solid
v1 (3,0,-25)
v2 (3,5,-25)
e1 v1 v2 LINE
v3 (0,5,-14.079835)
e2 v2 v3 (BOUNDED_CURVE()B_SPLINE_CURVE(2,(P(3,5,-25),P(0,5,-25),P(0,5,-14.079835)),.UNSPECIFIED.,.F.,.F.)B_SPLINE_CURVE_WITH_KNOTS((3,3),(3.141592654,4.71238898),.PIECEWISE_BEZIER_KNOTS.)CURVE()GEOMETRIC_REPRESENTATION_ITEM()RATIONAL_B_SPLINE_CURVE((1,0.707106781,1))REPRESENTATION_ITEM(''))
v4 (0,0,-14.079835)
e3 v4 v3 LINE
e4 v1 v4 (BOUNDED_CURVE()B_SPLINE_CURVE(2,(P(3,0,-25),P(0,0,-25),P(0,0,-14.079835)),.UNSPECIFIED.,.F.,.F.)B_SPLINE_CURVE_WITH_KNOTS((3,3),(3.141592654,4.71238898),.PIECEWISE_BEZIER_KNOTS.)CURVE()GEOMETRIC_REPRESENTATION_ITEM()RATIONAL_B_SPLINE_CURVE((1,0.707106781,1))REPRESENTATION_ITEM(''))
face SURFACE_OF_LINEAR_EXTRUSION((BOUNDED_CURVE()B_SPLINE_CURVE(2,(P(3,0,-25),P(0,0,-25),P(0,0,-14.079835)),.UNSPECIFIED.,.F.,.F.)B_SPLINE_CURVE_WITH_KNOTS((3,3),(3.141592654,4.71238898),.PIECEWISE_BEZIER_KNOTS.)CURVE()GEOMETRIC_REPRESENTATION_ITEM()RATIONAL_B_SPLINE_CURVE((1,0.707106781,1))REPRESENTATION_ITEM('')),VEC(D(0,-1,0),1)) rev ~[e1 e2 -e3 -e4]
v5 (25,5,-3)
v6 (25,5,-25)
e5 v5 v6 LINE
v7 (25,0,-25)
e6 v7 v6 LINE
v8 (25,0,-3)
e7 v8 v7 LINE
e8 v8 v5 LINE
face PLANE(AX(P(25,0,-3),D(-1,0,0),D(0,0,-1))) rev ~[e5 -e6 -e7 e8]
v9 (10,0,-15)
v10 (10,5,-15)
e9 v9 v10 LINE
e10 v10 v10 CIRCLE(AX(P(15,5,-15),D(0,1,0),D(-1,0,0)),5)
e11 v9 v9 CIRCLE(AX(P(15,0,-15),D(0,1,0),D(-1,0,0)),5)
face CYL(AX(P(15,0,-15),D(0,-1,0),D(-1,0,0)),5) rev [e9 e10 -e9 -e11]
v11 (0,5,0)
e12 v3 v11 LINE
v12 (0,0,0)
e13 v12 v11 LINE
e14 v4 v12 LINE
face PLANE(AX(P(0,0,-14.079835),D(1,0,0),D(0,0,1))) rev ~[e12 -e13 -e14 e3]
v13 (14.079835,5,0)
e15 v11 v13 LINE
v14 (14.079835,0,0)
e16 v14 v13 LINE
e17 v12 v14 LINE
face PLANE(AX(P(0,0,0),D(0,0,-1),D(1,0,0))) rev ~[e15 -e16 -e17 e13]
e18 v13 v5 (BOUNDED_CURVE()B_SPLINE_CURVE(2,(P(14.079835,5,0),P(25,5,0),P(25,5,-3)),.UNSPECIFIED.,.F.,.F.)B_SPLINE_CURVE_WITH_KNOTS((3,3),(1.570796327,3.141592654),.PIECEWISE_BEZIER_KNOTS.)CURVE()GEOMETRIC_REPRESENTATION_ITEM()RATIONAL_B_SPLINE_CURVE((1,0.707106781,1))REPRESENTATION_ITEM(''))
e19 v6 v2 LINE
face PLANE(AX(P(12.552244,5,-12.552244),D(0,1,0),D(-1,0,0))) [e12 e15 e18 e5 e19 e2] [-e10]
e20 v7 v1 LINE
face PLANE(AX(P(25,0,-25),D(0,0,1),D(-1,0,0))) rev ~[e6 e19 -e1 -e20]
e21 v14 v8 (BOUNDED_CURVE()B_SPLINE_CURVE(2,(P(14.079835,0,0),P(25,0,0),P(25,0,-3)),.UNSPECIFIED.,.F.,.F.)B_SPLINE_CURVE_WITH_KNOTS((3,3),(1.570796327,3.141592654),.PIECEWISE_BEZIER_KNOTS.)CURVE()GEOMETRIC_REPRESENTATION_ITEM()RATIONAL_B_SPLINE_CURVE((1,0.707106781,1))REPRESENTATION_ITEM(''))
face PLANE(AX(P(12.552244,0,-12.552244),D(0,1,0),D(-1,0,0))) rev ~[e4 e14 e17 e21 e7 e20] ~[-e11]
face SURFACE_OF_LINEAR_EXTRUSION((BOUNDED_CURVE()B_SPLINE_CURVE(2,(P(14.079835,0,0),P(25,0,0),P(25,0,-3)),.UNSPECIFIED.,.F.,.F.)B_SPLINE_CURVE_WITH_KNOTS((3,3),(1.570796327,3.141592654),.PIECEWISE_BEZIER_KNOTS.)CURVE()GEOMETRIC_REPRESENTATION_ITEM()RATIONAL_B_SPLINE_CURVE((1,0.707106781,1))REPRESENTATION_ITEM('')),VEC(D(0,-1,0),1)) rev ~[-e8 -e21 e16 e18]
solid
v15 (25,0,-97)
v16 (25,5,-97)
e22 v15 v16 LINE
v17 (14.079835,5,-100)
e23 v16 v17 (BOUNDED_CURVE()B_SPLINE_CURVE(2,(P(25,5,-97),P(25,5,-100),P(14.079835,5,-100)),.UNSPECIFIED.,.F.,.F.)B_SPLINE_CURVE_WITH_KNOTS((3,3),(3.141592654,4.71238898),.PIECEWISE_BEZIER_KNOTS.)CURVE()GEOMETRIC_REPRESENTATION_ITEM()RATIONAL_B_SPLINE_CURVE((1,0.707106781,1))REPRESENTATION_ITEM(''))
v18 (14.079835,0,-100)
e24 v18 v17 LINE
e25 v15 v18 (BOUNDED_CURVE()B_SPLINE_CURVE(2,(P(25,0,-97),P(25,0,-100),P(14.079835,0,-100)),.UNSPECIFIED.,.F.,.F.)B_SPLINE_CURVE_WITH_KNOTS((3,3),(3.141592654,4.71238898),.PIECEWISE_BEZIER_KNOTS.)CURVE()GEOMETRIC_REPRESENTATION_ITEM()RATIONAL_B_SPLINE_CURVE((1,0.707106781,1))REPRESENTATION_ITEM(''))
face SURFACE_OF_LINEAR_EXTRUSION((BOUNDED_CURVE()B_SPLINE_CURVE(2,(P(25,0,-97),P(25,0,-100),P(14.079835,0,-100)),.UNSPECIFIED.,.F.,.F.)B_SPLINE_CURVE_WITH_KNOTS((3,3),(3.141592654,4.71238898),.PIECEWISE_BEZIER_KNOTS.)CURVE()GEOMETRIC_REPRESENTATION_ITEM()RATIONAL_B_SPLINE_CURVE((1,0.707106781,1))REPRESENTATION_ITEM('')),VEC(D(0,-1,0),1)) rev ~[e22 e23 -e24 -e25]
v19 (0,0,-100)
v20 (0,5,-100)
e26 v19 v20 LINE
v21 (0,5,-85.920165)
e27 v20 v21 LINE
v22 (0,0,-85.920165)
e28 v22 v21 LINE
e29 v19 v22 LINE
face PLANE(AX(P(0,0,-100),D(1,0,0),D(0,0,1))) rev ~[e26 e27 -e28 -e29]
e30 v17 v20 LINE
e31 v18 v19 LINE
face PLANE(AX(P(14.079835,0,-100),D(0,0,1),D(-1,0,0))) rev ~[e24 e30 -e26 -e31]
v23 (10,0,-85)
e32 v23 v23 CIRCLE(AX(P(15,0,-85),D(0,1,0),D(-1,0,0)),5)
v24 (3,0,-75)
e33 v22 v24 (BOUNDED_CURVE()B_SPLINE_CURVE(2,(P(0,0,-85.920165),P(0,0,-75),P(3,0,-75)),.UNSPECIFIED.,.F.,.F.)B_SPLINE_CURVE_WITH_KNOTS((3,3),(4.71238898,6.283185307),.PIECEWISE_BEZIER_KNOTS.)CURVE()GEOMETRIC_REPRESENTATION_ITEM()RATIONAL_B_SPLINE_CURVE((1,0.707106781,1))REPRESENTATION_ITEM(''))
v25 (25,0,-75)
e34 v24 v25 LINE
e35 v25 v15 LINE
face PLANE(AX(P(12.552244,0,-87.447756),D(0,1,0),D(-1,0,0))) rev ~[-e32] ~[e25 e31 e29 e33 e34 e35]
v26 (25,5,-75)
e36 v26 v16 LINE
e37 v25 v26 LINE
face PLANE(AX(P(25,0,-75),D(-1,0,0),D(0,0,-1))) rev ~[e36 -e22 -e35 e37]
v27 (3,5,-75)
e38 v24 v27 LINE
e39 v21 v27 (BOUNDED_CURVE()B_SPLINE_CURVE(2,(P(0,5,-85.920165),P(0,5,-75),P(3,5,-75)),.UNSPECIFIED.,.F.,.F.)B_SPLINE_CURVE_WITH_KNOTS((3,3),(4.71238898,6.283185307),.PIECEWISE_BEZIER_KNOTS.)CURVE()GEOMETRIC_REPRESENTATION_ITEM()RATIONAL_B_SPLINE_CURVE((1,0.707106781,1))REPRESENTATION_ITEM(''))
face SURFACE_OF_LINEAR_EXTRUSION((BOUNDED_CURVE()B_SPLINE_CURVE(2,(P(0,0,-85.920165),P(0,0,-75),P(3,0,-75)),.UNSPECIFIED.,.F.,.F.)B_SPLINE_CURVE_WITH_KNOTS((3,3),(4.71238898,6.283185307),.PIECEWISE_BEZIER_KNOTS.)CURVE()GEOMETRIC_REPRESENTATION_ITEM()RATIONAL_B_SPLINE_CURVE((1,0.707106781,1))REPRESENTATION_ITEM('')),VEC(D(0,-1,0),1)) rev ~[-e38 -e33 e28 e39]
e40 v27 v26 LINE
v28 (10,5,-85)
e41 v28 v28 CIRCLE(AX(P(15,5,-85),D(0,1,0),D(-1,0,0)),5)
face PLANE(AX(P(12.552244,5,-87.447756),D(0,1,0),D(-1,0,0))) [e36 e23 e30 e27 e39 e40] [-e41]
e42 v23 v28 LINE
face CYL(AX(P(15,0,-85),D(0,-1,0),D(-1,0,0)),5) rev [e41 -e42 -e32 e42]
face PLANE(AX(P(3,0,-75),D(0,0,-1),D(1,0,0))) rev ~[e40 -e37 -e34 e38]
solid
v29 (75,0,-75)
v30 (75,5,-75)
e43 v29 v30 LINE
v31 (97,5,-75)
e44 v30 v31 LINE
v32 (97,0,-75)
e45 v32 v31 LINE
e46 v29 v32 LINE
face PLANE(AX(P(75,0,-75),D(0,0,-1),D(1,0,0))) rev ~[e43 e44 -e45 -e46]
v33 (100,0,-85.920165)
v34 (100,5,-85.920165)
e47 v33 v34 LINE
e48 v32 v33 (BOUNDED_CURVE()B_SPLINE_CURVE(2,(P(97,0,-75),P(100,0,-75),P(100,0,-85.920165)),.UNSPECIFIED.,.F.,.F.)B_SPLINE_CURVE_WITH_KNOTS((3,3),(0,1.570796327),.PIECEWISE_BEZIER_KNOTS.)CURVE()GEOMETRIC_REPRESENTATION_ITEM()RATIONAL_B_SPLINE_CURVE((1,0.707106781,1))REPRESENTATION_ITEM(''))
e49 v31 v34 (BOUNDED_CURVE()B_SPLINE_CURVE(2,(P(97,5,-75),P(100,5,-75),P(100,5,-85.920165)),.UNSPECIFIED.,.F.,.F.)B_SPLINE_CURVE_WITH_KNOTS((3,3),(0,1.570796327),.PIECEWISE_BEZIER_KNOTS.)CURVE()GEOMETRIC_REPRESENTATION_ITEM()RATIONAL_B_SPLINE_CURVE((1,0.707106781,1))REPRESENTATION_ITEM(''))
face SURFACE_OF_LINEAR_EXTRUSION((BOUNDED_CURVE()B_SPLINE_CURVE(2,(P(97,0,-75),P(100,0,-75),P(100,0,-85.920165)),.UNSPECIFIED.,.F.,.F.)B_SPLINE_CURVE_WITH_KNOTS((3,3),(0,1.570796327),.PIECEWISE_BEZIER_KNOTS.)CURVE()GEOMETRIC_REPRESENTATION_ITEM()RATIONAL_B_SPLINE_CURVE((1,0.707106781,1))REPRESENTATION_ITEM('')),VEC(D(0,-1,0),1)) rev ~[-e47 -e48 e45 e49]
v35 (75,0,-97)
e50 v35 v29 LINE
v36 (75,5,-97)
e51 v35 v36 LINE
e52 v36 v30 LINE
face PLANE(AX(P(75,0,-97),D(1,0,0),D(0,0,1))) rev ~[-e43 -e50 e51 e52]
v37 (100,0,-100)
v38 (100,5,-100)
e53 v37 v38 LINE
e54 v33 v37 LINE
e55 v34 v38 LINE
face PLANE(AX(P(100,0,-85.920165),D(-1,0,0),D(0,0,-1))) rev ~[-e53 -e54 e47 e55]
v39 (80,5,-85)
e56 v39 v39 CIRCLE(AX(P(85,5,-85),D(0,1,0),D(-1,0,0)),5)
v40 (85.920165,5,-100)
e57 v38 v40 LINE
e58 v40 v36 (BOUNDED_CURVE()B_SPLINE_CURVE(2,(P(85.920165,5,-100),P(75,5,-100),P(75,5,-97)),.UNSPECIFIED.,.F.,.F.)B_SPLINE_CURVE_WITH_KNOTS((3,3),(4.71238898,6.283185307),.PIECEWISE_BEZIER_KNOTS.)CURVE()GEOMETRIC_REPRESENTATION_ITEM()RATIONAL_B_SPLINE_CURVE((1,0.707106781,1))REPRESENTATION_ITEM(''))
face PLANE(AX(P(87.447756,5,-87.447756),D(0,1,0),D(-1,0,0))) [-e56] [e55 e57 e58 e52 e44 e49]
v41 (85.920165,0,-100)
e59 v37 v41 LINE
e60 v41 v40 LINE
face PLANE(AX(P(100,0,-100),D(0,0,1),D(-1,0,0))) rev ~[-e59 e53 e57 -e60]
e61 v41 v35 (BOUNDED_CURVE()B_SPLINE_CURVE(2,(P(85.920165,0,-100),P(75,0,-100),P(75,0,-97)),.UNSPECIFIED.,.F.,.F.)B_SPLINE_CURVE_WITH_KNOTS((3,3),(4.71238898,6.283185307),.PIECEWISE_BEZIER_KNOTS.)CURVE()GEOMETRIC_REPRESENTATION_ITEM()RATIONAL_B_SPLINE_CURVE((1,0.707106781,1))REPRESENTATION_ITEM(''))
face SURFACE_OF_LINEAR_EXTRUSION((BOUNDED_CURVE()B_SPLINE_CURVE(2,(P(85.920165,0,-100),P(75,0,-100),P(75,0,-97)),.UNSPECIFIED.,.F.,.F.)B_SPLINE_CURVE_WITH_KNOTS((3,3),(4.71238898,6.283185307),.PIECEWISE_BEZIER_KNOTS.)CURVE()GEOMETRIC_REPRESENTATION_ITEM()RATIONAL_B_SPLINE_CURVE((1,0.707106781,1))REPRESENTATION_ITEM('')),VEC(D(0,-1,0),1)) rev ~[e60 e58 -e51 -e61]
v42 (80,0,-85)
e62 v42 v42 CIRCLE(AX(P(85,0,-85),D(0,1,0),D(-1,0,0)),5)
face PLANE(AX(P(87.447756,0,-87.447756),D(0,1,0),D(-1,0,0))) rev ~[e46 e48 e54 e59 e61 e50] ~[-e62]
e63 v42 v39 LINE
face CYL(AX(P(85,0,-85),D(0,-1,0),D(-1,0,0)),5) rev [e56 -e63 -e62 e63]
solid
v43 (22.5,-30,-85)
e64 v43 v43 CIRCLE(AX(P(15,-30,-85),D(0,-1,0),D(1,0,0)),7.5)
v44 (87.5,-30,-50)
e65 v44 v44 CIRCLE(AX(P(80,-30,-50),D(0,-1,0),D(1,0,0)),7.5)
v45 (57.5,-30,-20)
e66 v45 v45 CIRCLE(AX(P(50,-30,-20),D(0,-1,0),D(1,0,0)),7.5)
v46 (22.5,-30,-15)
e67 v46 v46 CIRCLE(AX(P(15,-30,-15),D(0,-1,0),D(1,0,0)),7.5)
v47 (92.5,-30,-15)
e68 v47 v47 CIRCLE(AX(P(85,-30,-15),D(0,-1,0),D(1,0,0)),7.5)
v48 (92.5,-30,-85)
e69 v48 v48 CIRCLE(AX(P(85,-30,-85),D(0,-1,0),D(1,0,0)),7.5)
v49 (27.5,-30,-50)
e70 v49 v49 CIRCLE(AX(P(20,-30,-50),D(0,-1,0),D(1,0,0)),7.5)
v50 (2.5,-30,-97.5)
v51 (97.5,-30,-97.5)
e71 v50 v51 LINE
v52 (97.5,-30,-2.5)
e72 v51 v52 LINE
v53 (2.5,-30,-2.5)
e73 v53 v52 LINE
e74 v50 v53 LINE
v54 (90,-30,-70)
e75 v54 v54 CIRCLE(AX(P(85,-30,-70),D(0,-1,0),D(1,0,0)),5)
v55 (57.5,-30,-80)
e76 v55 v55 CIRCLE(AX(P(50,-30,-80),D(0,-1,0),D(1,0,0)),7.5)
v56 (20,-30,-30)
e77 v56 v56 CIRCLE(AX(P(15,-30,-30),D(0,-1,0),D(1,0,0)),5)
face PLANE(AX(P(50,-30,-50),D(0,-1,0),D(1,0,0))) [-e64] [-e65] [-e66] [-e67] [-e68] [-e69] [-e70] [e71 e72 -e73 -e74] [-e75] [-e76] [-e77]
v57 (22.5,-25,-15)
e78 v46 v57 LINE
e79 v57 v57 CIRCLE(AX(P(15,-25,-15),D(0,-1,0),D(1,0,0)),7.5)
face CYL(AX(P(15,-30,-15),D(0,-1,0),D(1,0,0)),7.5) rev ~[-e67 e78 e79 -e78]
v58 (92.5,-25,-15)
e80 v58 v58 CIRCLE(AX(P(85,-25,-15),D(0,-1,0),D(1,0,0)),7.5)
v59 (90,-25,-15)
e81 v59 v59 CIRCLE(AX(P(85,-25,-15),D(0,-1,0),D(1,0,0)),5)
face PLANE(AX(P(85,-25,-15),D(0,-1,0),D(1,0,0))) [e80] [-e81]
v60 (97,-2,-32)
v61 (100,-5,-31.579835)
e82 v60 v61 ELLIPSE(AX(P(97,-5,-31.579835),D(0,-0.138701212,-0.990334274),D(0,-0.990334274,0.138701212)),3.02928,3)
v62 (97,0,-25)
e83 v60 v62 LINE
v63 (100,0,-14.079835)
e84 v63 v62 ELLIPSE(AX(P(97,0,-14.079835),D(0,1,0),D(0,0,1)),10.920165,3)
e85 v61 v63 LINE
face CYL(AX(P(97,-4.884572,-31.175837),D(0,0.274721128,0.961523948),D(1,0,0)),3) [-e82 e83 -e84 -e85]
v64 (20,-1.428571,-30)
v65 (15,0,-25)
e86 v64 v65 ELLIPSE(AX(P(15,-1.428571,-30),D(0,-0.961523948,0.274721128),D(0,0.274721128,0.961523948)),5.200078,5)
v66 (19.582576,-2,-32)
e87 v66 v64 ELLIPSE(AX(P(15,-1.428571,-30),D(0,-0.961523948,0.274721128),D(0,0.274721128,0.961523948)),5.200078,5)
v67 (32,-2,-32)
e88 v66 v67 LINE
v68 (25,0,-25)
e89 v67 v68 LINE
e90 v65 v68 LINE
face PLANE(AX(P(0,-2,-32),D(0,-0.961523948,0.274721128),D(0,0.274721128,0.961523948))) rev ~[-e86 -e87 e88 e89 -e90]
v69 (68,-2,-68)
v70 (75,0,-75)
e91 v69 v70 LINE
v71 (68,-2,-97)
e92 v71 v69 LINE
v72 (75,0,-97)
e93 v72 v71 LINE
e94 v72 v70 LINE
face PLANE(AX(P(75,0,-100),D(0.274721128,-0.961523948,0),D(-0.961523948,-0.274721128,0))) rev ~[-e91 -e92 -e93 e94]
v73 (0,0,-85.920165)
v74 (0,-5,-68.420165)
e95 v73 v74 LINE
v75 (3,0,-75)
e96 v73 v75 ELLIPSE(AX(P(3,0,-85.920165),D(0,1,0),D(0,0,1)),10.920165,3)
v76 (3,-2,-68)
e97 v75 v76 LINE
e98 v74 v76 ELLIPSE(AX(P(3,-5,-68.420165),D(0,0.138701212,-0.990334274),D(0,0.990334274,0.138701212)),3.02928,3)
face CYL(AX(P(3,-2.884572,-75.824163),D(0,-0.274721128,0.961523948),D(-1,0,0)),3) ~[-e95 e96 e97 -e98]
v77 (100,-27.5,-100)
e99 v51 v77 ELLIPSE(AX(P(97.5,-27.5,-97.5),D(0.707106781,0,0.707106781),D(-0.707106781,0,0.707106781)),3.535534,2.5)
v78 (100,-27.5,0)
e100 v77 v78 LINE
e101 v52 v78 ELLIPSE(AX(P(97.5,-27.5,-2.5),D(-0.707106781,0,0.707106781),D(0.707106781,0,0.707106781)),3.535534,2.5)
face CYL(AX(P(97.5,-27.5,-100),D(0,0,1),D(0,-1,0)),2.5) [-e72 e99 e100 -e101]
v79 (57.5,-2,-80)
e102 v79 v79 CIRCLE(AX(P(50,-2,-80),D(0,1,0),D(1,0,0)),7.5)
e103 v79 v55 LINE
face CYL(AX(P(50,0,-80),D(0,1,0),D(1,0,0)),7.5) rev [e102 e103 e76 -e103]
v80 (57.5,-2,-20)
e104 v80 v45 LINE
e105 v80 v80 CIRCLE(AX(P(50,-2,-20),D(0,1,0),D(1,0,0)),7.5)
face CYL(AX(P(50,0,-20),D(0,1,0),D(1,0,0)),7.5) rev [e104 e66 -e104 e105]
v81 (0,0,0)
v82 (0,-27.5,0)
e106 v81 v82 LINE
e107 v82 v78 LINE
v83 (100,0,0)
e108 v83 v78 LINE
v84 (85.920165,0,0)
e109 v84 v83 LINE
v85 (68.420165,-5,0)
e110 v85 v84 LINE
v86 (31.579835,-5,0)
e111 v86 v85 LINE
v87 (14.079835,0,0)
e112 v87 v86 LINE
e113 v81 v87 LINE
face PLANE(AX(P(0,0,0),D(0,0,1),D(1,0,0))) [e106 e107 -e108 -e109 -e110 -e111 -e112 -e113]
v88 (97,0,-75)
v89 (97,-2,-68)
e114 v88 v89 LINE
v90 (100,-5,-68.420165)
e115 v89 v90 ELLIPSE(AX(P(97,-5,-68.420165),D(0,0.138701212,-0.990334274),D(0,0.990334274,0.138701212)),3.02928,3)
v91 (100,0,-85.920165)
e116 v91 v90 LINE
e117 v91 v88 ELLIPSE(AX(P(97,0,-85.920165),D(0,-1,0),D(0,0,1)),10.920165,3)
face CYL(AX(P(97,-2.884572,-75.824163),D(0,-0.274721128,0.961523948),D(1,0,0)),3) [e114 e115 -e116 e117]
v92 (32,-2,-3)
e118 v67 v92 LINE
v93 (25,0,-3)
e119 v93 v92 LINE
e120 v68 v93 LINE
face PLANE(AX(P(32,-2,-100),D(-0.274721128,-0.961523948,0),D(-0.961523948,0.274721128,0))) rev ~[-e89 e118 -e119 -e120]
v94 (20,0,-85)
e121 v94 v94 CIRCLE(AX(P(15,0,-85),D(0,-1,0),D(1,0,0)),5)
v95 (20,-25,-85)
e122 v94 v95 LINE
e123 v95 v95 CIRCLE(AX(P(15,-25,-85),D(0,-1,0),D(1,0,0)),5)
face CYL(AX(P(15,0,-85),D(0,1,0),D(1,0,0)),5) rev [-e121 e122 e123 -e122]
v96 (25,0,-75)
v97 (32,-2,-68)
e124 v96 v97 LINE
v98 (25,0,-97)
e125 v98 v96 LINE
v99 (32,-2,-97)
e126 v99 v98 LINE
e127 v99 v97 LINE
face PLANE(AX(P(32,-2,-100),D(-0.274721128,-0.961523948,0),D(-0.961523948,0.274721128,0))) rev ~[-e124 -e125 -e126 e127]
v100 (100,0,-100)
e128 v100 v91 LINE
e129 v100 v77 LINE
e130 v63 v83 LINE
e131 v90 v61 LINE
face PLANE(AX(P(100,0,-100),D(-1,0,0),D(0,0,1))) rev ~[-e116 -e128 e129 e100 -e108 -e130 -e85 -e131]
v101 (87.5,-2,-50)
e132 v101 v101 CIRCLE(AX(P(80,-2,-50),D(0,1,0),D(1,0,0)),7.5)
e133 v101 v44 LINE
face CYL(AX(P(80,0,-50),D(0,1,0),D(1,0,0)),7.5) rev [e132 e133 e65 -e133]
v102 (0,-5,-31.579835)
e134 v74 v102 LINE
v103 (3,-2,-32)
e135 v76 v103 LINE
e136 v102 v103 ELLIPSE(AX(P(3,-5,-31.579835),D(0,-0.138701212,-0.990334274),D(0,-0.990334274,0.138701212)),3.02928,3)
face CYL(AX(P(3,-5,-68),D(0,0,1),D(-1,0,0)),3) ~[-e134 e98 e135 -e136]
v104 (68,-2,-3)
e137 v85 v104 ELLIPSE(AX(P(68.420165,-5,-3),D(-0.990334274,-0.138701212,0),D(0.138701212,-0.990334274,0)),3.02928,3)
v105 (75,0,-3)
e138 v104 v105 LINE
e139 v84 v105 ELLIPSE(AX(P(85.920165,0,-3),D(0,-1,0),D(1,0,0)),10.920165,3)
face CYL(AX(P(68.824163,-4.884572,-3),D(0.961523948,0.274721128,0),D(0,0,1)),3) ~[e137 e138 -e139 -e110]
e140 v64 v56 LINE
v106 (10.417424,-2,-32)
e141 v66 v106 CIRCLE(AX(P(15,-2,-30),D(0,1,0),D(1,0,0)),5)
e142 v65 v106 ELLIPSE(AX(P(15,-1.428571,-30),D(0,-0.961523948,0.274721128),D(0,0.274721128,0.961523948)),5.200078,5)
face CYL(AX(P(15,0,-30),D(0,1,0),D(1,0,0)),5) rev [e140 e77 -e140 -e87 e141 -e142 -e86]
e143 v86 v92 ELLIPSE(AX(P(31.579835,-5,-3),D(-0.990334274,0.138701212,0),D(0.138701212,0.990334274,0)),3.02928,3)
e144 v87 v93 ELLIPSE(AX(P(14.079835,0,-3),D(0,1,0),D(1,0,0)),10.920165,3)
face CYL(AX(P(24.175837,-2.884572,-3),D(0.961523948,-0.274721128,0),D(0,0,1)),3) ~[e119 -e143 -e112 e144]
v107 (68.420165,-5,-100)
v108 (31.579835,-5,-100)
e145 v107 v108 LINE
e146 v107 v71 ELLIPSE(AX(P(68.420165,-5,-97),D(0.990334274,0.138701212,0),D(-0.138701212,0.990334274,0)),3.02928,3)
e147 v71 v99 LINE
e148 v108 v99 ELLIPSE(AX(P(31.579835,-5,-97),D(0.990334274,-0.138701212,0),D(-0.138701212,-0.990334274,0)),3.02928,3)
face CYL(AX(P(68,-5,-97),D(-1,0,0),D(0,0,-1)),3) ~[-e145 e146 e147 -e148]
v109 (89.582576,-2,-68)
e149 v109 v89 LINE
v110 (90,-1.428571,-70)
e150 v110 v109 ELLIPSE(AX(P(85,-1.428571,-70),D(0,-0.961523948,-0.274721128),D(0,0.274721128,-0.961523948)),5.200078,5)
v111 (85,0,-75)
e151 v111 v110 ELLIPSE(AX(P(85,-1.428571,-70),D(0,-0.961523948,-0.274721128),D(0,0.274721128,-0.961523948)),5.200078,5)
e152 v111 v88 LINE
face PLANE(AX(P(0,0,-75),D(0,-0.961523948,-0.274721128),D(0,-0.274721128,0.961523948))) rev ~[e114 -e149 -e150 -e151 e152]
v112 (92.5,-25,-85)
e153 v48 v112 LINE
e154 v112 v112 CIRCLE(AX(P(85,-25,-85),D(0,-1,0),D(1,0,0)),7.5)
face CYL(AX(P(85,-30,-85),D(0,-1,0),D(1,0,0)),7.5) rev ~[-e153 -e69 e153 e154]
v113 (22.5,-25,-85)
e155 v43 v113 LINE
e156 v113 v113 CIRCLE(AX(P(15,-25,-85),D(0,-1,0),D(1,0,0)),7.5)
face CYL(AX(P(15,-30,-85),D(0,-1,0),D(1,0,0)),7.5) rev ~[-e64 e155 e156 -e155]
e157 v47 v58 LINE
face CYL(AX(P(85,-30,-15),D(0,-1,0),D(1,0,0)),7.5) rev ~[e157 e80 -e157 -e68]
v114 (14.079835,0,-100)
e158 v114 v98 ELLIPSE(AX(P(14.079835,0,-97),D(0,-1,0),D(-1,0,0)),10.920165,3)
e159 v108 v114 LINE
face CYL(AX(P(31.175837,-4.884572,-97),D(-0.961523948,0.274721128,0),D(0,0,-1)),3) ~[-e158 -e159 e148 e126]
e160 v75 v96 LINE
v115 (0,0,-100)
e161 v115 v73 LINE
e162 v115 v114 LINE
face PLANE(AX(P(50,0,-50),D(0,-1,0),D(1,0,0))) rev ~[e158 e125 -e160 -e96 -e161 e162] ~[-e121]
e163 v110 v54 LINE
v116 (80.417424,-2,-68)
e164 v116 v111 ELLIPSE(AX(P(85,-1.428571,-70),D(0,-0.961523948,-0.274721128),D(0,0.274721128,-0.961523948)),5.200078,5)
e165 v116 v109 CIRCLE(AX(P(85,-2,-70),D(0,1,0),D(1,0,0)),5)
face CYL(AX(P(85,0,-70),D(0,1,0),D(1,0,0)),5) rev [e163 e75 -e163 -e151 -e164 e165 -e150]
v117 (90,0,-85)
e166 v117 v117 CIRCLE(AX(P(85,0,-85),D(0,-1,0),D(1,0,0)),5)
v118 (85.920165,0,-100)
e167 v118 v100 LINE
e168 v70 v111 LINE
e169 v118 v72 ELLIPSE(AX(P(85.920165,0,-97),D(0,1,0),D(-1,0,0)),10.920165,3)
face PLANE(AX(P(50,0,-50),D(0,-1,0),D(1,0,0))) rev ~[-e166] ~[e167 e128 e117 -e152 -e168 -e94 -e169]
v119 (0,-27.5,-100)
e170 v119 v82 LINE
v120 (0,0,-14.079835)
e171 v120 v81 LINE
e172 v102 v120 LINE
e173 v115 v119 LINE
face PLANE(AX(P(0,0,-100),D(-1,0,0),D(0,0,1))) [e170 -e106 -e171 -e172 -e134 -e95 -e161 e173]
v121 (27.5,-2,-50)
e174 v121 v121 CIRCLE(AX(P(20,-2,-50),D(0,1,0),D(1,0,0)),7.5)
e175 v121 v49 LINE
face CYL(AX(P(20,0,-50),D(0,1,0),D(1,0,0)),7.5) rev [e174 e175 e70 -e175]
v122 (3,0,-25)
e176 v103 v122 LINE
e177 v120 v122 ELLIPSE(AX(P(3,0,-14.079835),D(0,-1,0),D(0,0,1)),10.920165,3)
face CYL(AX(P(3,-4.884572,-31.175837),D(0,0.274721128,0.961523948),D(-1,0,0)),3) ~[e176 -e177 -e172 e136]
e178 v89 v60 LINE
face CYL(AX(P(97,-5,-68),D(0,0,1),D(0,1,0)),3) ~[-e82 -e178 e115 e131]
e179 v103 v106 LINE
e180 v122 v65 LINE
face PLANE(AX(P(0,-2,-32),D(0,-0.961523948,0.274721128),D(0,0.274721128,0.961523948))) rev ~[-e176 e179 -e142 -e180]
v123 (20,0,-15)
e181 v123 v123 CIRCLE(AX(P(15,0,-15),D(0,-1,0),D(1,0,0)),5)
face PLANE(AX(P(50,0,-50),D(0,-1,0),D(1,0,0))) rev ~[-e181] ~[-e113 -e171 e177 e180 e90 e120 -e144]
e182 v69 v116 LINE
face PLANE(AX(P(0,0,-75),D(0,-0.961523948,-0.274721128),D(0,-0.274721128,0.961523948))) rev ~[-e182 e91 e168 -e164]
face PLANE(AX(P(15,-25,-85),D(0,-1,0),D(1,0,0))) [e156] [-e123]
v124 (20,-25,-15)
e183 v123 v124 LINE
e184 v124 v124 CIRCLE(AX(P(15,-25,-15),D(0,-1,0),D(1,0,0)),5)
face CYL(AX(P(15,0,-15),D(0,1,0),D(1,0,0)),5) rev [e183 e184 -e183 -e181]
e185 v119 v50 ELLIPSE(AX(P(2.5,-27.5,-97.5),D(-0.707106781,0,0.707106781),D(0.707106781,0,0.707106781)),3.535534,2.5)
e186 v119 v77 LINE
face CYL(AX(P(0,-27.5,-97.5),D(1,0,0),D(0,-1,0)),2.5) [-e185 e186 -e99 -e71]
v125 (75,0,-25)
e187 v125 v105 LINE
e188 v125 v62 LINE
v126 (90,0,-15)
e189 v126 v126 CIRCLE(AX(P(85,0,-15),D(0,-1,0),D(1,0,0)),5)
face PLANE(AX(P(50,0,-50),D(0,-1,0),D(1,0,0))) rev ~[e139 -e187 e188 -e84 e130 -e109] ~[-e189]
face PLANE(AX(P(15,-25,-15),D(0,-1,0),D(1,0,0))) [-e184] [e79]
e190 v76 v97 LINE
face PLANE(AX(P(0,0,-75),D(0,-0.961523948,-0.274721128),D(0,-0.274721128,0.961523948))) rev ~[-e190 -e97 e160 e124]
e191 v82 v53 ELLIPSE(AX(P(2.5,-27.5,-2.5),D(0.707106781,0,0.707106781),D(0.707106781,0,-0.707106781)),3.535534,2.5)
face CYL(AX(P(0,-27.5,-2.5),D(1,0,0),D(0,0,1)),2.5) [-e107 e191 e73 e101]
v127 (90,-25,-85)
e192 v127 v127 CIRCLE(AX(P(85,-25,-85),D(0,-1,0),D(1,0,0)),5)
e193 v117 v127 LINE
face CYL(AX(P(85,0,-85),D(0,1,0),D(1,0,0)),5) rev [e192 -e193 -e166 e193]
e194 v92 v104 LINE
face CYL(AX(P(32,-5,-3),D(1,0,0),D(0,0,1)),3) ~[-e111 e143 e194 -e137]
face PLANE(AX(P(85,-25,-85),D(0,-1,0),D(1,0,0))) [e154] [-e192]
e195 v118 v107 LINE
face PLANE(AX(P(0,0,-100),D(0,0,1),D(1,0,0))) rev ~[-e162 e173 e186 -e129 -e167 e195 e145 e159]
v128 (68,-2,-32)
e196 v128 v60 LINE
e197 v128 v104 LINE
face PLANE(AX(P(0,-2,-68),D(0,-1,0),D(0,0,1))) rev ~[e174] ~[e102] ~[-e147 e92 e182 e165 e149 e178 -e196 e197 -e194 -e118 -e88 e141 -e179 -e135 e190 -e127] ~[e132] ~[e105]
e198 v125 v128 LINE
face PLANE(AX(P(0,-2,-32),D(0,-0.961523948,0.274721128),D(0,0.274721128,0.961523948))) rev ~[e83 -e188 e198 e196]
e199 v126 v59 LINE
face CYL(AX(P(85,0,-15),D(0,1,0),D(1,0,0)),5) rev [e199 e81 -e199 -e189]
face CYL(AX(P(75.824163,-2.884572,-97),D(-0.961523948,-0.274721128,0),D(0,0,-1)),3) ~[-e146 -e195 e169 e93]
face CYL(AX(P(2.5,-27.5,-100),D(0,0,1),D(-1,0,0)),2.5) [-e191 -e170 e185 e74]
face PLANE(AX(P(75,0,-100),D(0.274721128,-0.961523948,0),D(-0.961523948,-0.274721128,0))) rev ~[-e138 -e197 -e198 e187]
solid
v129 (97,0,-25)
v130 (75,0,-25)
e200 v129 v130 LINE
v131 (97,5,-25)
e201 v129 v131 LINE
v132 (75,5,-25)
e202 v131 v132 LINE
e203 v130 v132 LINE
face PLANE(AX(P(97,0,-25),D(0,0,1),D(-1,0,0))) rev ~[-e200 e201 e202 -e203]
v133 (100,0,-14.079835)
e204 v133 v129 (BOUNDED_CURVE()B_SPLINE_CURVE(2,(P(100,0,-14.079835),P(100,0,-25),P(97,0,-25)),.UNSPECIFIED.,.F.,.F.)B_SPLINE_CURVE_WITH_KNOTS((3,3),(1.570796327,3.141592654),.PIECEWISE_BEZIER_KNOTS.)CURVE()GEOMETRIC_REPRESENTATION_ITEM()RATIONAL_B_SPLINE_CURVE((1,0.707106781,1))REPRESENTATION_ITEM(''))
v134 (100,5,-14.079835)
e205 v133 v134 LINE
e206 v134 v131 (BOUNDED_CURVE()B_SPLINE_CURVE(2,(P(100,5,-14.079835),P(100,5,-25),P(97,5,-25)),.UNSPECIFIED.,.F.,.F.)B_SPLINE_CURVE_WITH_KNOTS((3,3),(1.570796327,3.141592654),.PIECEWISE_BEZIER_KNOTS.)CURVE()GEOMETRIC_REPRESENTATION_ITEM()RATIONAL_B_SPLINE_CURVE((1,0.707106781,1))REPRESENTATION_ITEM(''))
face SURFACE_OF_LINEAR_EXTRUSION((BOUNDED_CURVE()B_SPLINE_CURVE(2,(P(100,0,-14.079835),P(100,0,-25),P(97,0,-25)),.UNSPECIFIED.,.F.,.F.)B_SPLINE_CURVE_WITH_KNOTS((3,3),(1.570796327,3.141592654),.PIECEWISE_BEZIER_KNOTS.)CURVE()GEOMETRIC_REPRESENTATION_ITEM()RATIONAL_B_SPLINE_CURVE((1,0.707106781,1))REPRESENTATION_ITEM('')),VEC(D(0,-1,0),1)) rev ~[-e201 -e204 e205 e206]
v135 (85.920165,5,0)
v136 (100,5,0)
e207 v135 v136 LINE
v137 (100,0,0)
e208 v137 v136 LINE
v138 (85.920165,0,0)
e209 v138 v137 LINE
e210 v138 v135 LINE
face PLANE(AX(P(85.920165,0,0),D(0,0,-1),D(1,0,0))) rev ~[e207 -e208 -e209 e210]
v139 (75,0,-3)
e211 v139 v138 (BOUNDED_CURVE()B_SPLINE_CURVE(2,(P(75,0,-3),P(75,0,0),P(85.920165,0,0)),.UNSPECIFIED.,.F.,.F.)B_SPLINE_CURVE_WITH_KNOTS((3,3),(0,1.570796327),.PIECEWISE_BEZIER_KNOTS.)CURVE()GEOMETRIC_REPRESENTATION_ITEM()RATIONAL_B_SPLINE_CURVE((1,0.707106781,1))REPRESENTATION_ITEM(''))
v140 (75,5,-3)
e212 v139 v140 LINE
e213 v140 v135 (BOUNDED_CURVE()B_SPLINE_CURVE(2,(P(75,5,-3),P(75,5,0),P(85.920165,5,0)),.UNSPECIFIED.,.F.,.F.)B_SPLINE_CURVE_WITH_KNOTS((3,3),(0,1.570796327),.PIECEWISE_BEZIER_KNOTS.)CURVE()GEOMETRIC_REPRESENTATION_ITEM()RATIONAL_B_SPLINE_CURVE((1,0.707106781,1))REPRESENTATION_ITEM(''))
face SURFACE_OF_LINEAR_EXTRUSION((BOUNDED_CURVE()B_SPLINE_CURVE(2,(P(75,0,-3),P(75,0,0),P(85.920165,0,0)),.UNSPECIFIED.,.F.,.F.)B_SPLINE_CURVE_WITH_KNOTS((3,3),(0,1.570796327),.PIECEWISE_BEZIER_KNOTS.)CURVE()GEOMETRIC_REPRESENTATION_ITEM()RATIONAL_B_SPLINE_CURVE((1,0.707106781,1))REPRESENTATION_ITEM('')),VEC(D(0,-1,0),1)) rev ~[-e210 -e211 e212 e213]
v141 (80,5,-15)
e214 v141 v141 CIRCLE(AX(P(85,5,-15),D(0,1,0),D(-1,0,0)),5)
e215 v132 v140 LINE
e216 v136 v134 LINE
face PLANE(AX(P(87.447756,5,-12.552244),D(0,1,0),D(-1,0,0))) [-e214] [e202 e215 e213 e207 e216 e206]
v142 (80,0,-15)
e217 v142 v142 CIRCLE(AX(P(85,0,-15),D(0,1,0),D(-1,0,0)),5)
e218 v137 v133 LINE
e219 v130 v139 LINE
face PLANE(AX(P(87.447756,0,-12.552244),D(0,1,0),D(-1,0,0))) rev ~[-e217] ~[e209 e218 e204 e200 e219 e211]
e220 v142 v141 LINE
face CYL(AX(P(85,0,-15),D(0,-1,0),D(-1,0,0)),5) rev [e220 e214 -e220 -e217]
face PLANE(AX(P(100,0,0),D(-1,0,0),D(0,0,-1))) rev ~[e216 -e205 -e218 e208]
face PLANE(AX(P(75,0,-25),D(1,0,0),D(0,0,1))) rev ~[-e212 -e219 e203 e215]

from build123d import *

# Parameters (mm, degrees)
F0_W      = 100
F0_H      = 100
F0_R      = 5
F0_R_2    = 7.5
F1_DEPTH  = 30
F3_DEPTH  = 100.001
F5_DEPTH  = 100.001
F6_R      = 2.5
F7_R      = 3
F8_R      = 5
F9_DEPTH  = 5
F10_R     = 7.5
F10_R_2   = 5
F11_DEPTH = 5


with BuildPart() as f1:
    # F0 (on Front) → F1 (new body)
    with BuildSketch(Plane.XZ):
        with Locations((50, -50)):
            Rectangle(F0_W, F0_H)
        with Locations((15, -85)):
            Circle(F0_R, mode=Mode.SUBTRACT)
        with Locations((50, -80)):
            Circle(F0_R_2, mode=Mode.SUBTRACT)
        with Locations((85, -85)):
            Circle(F0_R, mode=Mode.SUBTRACT)
        with Locations((85, -70)):
            Circle(F0_R, mode=Mode.SUBTRACT)
        with Locations((20, -50)):
            Circle(F0_R_2, mode=Mode.SUBTRACT)
        with Locations((15, -30)):
            Circle(F0_R, mode=Mode.SUBTRACT)
        with Locations((15, -15)):
            Circle(F0_R, mode=Mode.SUBTRACT)
        with Locations((80, -50)):
            Circle(F0_R_2, mode=Mode.SUBTRACT)
        with Locations((50, -20)):
            Circle(F0_R_2, mode=Mode.SUBTRACT)
        with Locations((85, -15)):
            Circle(F0_R, mode=Mode.SUBTRACT)
    extrude(amount=F1_DEPTH)

    # F2 (on face) → F3 (cut, through all)
    with BuildSketch(Plane(origin=(0, 0, -100), x_dir=(1, 0, 0), z_dir=(0, 0, -1))):
        Polygon((32, 2), (25, 0), (75, 0), (68, 2), align=None)
    extrude(amount=-F3_DEPTH, mode=Mode.SUBTRACT)

    # F4 (on face) → F5 (cut, through all)
    with BuildSketch(Plane(origin=(0, 0, 0), x_dir=(0, -1, 0), z_dir=(-1, 0, 0))):
        Polygon((2, -32), (0, -25), (0, -75), (2, -68), align=None)
    extrude(amount=-F5_DEPTH, mode=Mode.SUBTRACT)

    # F6
    f6_edges = [f1.edges().sort_by_distance(p)[0] for p in [
        (100, -30, -50),
        (50, -30, 0),
        (0, -30, -50),
        (50, -30, -100),
    ]]
    fillet(f6_edges, radius=F6_R)

    # F7
    f7_edges = [f1.edges().sort_by_distance(p)[0] for p in [
        (100, -2, -50),
        (100, -1, -28.5),
        (100, -1, -71.5),
        (0, -2, -50),
        (0, -1, -71.5),
        (0, -1, -28.5),
        (50, -2, -100),
        (71.5, -1, -100),
        (28.5, -1, -100),
        (50, -2, 0),
        (71.5, -1, 0),
        (28.5, -1, 0),
    ]]
    fillet(f7_edges, radius=F7_R)

    # F10 (on face) → F11 (cut)
    with BuildSketch(Plane.XZ.offset(30)):
        with Locations((15, -85)):
            Circle(F10_R)
        with Locations((15, -85)):
            Circle(F10_R_2, mode=Mode.SUBTRACT)
        with Locations((85, -85)):
            Circle(F10_R)
        with Locations((85, -85)):
            Circle(F10_R_2, mode=Mode.SUBTRACT)
        with Locations((85, -15)):
            Circle(F10_R)
        with Locations((85, -15)):
            Circle(F10_R_2, mode=Mode.SUBTRACT)
        with Locations((15, -15)):
            Circle(F10_R)
        with Locations((15, -15)):
            Circle(F10_R_2, mode=Mode.SUBTRACT)
    extrude(amount=-F11_DEPTH, mode=Mode.SUBTRACT)


with BuildPart() as f9:
    # F8 (on face) → F9 (new body)
    with BuildSketch(Plane(origin=(0, 0, 0), x_dir=(-1, 0, 0), z_dir=(0, 1, 0))):
        with BuildLine():
            Line((-85.9201648339, 0), (-100, 0))
            Line((-100, 0), (-100, -14.0798351661))
            add(Edge.make_bspline(
                [(-100, -14.0798351661), (-100, -25), (-97, -25)],
                knots=[1.5707963268, 1.5707963268, 1.5707963268, 3.1415926536, 3.1415926536, 3.1415926536], degree=2, weights=[1, 0.7071067812, 1]))
            Line((-97, -25), (-75, -25))
            Line((-75, -25), (-75, -3))
            add(Edge.make_bspline(
                [(-75, -3), (-75, 0), (-85.9201648339, 0)],
                knots=[0, 0, 0, 1.5707963268, 1.5707963268, 1.5707963268], degree=2, weights=[1, 0.7071067812, 1]))
        make_face()
        with Locations((-85, -15)):
            Circle(F8_R, mode=Mode.SUBTRACT)
    extrude(amount=F9_DEPTH)


with BuildPart() as f9b:
    # F8 (on face) → F9, piece 2 (new body)
    with BuildSketch(Plane(origin=(0, 0, 0), x_dir=(-1, 0, 0), z_dir=(0, 1, 0))):
        with BuildLine():
            Line((-25, -25), (-15, -25))
            Line((-15, -25), (-3, -25))
            add(Edge.make_bspline(
                [(-3, -25), (0, -25), (0, -14.0798351661)],
                knots=[3.1415926536, 3.1415926536, 3.1415926536, 4.7123889804, 4.7123889804, 4.7123889804], degree=2, weights=[1, 0.7071067812, 1]))
            Line((0, -14.0798351661), (0, 0))
            Line((0, 0), (-14.0798351661, 0))
            add(Edge.make_bspline(
                [(-14.0798351661, 0), (-25, 0), (-25, -3)],
                knots=[1.5707963268, 1.5707963268, 1.5707963268, 3.1415926536, 3.1415926536, 3.1415926536], degree=2, weights=[1, 0.7071067812, 1]))
            Line((-25, -3), (-25, -25))
        make_face()
        with Locations((-15, -15)):
            Circle(F8_R, mode=Mode.SUBTRACT)
    extrude(amount=F9_DEPTH)


with BuildPart() as f9c:
    # F8 (on face) → F9, piece 3 (new body)
    with BuildSketch(Plane(origin=(0, 0, 0), x_dir=(-1, 0, 0), z_dir=(0, 1, 0))):
        with BuildLine():
            Line((-14.0798351661, -100), (0, -100))
            Line((0, -100), (0, -85.9201648339))
            add(Edge.make_bspline(
                [(0, -85.9201648339), (0, -75), (-3, -75)],
                knots=[4.7123889804, 4.7123889804, 4.7123889804, 6.2831853072, 6.2831853072, 6.2831853072], degree=2, weights=[1, 0.7071067812, 1]))
            Line((-3, -75), (-25, -75))
            Line((-25, -75), (-25, -97))
            add(Edge.make_bspline(
                [(-25, -97), (-25, -100), (-14.0798351661, -100)],
                knots=[3.1415926536, 3.1415926536, 3.1415926536, 4.7123889804, 4.7123889804, 4.7123889804], degree=2, weights=[1, 0.7071067812, 1]))
        make_face()
        with Locations((-15, -85)):
            Circle(F8_R, mode=Mode.SUBTRACT)
    extrude(amount=F9_DEPTH)


with BuildPart() as f9d:
    # F8 (on face) → F9, piece 4 (new body)
    with BuildSketch(Plane(origin=(0, 0, 0), x_dir=(-1, 0, 0), z_dir=(0, 1, 0))):
        with BuildLine():
            Line((-75, -75), (-85, -75))
            Line((-85, -75), (-97, -75))
            add(Edge.make_bspline(
                [(-97, -75), (-100, -75), (-100, -85.9201648339)],
                knots=[0, 0, 0, 1.5707963268, 1.5707963268, 1.5707963268], degree=2, weights=[1, 0.7071067812, 1]))
            Line((-100, -85.9201648339), (-100, -100))
            Line((-100, -100), (-85.9201648339, -100))
            add(Edge.make_bspline(
                [(-85.9201648339, -100), (-75, -100), (-75, -97)],
                knots=[4.7123889804, 4.7123889804, 4.7123889804, 6.2831853072, 6.2831853072, 6.2831853072], degree=2, weights=[1, 0.7071067812, 1]))
            Line((-75, -97), (-75, -75))
        make_face()
        with Locations((-85, -85)):
            Circle(F8_R, mode=Mode.SUBTRACT)
    extrude(amount=F9_DEPTH)


solid = Compound([f1.part, f9.part, f9b.part, f9c.part, f9d.part])
